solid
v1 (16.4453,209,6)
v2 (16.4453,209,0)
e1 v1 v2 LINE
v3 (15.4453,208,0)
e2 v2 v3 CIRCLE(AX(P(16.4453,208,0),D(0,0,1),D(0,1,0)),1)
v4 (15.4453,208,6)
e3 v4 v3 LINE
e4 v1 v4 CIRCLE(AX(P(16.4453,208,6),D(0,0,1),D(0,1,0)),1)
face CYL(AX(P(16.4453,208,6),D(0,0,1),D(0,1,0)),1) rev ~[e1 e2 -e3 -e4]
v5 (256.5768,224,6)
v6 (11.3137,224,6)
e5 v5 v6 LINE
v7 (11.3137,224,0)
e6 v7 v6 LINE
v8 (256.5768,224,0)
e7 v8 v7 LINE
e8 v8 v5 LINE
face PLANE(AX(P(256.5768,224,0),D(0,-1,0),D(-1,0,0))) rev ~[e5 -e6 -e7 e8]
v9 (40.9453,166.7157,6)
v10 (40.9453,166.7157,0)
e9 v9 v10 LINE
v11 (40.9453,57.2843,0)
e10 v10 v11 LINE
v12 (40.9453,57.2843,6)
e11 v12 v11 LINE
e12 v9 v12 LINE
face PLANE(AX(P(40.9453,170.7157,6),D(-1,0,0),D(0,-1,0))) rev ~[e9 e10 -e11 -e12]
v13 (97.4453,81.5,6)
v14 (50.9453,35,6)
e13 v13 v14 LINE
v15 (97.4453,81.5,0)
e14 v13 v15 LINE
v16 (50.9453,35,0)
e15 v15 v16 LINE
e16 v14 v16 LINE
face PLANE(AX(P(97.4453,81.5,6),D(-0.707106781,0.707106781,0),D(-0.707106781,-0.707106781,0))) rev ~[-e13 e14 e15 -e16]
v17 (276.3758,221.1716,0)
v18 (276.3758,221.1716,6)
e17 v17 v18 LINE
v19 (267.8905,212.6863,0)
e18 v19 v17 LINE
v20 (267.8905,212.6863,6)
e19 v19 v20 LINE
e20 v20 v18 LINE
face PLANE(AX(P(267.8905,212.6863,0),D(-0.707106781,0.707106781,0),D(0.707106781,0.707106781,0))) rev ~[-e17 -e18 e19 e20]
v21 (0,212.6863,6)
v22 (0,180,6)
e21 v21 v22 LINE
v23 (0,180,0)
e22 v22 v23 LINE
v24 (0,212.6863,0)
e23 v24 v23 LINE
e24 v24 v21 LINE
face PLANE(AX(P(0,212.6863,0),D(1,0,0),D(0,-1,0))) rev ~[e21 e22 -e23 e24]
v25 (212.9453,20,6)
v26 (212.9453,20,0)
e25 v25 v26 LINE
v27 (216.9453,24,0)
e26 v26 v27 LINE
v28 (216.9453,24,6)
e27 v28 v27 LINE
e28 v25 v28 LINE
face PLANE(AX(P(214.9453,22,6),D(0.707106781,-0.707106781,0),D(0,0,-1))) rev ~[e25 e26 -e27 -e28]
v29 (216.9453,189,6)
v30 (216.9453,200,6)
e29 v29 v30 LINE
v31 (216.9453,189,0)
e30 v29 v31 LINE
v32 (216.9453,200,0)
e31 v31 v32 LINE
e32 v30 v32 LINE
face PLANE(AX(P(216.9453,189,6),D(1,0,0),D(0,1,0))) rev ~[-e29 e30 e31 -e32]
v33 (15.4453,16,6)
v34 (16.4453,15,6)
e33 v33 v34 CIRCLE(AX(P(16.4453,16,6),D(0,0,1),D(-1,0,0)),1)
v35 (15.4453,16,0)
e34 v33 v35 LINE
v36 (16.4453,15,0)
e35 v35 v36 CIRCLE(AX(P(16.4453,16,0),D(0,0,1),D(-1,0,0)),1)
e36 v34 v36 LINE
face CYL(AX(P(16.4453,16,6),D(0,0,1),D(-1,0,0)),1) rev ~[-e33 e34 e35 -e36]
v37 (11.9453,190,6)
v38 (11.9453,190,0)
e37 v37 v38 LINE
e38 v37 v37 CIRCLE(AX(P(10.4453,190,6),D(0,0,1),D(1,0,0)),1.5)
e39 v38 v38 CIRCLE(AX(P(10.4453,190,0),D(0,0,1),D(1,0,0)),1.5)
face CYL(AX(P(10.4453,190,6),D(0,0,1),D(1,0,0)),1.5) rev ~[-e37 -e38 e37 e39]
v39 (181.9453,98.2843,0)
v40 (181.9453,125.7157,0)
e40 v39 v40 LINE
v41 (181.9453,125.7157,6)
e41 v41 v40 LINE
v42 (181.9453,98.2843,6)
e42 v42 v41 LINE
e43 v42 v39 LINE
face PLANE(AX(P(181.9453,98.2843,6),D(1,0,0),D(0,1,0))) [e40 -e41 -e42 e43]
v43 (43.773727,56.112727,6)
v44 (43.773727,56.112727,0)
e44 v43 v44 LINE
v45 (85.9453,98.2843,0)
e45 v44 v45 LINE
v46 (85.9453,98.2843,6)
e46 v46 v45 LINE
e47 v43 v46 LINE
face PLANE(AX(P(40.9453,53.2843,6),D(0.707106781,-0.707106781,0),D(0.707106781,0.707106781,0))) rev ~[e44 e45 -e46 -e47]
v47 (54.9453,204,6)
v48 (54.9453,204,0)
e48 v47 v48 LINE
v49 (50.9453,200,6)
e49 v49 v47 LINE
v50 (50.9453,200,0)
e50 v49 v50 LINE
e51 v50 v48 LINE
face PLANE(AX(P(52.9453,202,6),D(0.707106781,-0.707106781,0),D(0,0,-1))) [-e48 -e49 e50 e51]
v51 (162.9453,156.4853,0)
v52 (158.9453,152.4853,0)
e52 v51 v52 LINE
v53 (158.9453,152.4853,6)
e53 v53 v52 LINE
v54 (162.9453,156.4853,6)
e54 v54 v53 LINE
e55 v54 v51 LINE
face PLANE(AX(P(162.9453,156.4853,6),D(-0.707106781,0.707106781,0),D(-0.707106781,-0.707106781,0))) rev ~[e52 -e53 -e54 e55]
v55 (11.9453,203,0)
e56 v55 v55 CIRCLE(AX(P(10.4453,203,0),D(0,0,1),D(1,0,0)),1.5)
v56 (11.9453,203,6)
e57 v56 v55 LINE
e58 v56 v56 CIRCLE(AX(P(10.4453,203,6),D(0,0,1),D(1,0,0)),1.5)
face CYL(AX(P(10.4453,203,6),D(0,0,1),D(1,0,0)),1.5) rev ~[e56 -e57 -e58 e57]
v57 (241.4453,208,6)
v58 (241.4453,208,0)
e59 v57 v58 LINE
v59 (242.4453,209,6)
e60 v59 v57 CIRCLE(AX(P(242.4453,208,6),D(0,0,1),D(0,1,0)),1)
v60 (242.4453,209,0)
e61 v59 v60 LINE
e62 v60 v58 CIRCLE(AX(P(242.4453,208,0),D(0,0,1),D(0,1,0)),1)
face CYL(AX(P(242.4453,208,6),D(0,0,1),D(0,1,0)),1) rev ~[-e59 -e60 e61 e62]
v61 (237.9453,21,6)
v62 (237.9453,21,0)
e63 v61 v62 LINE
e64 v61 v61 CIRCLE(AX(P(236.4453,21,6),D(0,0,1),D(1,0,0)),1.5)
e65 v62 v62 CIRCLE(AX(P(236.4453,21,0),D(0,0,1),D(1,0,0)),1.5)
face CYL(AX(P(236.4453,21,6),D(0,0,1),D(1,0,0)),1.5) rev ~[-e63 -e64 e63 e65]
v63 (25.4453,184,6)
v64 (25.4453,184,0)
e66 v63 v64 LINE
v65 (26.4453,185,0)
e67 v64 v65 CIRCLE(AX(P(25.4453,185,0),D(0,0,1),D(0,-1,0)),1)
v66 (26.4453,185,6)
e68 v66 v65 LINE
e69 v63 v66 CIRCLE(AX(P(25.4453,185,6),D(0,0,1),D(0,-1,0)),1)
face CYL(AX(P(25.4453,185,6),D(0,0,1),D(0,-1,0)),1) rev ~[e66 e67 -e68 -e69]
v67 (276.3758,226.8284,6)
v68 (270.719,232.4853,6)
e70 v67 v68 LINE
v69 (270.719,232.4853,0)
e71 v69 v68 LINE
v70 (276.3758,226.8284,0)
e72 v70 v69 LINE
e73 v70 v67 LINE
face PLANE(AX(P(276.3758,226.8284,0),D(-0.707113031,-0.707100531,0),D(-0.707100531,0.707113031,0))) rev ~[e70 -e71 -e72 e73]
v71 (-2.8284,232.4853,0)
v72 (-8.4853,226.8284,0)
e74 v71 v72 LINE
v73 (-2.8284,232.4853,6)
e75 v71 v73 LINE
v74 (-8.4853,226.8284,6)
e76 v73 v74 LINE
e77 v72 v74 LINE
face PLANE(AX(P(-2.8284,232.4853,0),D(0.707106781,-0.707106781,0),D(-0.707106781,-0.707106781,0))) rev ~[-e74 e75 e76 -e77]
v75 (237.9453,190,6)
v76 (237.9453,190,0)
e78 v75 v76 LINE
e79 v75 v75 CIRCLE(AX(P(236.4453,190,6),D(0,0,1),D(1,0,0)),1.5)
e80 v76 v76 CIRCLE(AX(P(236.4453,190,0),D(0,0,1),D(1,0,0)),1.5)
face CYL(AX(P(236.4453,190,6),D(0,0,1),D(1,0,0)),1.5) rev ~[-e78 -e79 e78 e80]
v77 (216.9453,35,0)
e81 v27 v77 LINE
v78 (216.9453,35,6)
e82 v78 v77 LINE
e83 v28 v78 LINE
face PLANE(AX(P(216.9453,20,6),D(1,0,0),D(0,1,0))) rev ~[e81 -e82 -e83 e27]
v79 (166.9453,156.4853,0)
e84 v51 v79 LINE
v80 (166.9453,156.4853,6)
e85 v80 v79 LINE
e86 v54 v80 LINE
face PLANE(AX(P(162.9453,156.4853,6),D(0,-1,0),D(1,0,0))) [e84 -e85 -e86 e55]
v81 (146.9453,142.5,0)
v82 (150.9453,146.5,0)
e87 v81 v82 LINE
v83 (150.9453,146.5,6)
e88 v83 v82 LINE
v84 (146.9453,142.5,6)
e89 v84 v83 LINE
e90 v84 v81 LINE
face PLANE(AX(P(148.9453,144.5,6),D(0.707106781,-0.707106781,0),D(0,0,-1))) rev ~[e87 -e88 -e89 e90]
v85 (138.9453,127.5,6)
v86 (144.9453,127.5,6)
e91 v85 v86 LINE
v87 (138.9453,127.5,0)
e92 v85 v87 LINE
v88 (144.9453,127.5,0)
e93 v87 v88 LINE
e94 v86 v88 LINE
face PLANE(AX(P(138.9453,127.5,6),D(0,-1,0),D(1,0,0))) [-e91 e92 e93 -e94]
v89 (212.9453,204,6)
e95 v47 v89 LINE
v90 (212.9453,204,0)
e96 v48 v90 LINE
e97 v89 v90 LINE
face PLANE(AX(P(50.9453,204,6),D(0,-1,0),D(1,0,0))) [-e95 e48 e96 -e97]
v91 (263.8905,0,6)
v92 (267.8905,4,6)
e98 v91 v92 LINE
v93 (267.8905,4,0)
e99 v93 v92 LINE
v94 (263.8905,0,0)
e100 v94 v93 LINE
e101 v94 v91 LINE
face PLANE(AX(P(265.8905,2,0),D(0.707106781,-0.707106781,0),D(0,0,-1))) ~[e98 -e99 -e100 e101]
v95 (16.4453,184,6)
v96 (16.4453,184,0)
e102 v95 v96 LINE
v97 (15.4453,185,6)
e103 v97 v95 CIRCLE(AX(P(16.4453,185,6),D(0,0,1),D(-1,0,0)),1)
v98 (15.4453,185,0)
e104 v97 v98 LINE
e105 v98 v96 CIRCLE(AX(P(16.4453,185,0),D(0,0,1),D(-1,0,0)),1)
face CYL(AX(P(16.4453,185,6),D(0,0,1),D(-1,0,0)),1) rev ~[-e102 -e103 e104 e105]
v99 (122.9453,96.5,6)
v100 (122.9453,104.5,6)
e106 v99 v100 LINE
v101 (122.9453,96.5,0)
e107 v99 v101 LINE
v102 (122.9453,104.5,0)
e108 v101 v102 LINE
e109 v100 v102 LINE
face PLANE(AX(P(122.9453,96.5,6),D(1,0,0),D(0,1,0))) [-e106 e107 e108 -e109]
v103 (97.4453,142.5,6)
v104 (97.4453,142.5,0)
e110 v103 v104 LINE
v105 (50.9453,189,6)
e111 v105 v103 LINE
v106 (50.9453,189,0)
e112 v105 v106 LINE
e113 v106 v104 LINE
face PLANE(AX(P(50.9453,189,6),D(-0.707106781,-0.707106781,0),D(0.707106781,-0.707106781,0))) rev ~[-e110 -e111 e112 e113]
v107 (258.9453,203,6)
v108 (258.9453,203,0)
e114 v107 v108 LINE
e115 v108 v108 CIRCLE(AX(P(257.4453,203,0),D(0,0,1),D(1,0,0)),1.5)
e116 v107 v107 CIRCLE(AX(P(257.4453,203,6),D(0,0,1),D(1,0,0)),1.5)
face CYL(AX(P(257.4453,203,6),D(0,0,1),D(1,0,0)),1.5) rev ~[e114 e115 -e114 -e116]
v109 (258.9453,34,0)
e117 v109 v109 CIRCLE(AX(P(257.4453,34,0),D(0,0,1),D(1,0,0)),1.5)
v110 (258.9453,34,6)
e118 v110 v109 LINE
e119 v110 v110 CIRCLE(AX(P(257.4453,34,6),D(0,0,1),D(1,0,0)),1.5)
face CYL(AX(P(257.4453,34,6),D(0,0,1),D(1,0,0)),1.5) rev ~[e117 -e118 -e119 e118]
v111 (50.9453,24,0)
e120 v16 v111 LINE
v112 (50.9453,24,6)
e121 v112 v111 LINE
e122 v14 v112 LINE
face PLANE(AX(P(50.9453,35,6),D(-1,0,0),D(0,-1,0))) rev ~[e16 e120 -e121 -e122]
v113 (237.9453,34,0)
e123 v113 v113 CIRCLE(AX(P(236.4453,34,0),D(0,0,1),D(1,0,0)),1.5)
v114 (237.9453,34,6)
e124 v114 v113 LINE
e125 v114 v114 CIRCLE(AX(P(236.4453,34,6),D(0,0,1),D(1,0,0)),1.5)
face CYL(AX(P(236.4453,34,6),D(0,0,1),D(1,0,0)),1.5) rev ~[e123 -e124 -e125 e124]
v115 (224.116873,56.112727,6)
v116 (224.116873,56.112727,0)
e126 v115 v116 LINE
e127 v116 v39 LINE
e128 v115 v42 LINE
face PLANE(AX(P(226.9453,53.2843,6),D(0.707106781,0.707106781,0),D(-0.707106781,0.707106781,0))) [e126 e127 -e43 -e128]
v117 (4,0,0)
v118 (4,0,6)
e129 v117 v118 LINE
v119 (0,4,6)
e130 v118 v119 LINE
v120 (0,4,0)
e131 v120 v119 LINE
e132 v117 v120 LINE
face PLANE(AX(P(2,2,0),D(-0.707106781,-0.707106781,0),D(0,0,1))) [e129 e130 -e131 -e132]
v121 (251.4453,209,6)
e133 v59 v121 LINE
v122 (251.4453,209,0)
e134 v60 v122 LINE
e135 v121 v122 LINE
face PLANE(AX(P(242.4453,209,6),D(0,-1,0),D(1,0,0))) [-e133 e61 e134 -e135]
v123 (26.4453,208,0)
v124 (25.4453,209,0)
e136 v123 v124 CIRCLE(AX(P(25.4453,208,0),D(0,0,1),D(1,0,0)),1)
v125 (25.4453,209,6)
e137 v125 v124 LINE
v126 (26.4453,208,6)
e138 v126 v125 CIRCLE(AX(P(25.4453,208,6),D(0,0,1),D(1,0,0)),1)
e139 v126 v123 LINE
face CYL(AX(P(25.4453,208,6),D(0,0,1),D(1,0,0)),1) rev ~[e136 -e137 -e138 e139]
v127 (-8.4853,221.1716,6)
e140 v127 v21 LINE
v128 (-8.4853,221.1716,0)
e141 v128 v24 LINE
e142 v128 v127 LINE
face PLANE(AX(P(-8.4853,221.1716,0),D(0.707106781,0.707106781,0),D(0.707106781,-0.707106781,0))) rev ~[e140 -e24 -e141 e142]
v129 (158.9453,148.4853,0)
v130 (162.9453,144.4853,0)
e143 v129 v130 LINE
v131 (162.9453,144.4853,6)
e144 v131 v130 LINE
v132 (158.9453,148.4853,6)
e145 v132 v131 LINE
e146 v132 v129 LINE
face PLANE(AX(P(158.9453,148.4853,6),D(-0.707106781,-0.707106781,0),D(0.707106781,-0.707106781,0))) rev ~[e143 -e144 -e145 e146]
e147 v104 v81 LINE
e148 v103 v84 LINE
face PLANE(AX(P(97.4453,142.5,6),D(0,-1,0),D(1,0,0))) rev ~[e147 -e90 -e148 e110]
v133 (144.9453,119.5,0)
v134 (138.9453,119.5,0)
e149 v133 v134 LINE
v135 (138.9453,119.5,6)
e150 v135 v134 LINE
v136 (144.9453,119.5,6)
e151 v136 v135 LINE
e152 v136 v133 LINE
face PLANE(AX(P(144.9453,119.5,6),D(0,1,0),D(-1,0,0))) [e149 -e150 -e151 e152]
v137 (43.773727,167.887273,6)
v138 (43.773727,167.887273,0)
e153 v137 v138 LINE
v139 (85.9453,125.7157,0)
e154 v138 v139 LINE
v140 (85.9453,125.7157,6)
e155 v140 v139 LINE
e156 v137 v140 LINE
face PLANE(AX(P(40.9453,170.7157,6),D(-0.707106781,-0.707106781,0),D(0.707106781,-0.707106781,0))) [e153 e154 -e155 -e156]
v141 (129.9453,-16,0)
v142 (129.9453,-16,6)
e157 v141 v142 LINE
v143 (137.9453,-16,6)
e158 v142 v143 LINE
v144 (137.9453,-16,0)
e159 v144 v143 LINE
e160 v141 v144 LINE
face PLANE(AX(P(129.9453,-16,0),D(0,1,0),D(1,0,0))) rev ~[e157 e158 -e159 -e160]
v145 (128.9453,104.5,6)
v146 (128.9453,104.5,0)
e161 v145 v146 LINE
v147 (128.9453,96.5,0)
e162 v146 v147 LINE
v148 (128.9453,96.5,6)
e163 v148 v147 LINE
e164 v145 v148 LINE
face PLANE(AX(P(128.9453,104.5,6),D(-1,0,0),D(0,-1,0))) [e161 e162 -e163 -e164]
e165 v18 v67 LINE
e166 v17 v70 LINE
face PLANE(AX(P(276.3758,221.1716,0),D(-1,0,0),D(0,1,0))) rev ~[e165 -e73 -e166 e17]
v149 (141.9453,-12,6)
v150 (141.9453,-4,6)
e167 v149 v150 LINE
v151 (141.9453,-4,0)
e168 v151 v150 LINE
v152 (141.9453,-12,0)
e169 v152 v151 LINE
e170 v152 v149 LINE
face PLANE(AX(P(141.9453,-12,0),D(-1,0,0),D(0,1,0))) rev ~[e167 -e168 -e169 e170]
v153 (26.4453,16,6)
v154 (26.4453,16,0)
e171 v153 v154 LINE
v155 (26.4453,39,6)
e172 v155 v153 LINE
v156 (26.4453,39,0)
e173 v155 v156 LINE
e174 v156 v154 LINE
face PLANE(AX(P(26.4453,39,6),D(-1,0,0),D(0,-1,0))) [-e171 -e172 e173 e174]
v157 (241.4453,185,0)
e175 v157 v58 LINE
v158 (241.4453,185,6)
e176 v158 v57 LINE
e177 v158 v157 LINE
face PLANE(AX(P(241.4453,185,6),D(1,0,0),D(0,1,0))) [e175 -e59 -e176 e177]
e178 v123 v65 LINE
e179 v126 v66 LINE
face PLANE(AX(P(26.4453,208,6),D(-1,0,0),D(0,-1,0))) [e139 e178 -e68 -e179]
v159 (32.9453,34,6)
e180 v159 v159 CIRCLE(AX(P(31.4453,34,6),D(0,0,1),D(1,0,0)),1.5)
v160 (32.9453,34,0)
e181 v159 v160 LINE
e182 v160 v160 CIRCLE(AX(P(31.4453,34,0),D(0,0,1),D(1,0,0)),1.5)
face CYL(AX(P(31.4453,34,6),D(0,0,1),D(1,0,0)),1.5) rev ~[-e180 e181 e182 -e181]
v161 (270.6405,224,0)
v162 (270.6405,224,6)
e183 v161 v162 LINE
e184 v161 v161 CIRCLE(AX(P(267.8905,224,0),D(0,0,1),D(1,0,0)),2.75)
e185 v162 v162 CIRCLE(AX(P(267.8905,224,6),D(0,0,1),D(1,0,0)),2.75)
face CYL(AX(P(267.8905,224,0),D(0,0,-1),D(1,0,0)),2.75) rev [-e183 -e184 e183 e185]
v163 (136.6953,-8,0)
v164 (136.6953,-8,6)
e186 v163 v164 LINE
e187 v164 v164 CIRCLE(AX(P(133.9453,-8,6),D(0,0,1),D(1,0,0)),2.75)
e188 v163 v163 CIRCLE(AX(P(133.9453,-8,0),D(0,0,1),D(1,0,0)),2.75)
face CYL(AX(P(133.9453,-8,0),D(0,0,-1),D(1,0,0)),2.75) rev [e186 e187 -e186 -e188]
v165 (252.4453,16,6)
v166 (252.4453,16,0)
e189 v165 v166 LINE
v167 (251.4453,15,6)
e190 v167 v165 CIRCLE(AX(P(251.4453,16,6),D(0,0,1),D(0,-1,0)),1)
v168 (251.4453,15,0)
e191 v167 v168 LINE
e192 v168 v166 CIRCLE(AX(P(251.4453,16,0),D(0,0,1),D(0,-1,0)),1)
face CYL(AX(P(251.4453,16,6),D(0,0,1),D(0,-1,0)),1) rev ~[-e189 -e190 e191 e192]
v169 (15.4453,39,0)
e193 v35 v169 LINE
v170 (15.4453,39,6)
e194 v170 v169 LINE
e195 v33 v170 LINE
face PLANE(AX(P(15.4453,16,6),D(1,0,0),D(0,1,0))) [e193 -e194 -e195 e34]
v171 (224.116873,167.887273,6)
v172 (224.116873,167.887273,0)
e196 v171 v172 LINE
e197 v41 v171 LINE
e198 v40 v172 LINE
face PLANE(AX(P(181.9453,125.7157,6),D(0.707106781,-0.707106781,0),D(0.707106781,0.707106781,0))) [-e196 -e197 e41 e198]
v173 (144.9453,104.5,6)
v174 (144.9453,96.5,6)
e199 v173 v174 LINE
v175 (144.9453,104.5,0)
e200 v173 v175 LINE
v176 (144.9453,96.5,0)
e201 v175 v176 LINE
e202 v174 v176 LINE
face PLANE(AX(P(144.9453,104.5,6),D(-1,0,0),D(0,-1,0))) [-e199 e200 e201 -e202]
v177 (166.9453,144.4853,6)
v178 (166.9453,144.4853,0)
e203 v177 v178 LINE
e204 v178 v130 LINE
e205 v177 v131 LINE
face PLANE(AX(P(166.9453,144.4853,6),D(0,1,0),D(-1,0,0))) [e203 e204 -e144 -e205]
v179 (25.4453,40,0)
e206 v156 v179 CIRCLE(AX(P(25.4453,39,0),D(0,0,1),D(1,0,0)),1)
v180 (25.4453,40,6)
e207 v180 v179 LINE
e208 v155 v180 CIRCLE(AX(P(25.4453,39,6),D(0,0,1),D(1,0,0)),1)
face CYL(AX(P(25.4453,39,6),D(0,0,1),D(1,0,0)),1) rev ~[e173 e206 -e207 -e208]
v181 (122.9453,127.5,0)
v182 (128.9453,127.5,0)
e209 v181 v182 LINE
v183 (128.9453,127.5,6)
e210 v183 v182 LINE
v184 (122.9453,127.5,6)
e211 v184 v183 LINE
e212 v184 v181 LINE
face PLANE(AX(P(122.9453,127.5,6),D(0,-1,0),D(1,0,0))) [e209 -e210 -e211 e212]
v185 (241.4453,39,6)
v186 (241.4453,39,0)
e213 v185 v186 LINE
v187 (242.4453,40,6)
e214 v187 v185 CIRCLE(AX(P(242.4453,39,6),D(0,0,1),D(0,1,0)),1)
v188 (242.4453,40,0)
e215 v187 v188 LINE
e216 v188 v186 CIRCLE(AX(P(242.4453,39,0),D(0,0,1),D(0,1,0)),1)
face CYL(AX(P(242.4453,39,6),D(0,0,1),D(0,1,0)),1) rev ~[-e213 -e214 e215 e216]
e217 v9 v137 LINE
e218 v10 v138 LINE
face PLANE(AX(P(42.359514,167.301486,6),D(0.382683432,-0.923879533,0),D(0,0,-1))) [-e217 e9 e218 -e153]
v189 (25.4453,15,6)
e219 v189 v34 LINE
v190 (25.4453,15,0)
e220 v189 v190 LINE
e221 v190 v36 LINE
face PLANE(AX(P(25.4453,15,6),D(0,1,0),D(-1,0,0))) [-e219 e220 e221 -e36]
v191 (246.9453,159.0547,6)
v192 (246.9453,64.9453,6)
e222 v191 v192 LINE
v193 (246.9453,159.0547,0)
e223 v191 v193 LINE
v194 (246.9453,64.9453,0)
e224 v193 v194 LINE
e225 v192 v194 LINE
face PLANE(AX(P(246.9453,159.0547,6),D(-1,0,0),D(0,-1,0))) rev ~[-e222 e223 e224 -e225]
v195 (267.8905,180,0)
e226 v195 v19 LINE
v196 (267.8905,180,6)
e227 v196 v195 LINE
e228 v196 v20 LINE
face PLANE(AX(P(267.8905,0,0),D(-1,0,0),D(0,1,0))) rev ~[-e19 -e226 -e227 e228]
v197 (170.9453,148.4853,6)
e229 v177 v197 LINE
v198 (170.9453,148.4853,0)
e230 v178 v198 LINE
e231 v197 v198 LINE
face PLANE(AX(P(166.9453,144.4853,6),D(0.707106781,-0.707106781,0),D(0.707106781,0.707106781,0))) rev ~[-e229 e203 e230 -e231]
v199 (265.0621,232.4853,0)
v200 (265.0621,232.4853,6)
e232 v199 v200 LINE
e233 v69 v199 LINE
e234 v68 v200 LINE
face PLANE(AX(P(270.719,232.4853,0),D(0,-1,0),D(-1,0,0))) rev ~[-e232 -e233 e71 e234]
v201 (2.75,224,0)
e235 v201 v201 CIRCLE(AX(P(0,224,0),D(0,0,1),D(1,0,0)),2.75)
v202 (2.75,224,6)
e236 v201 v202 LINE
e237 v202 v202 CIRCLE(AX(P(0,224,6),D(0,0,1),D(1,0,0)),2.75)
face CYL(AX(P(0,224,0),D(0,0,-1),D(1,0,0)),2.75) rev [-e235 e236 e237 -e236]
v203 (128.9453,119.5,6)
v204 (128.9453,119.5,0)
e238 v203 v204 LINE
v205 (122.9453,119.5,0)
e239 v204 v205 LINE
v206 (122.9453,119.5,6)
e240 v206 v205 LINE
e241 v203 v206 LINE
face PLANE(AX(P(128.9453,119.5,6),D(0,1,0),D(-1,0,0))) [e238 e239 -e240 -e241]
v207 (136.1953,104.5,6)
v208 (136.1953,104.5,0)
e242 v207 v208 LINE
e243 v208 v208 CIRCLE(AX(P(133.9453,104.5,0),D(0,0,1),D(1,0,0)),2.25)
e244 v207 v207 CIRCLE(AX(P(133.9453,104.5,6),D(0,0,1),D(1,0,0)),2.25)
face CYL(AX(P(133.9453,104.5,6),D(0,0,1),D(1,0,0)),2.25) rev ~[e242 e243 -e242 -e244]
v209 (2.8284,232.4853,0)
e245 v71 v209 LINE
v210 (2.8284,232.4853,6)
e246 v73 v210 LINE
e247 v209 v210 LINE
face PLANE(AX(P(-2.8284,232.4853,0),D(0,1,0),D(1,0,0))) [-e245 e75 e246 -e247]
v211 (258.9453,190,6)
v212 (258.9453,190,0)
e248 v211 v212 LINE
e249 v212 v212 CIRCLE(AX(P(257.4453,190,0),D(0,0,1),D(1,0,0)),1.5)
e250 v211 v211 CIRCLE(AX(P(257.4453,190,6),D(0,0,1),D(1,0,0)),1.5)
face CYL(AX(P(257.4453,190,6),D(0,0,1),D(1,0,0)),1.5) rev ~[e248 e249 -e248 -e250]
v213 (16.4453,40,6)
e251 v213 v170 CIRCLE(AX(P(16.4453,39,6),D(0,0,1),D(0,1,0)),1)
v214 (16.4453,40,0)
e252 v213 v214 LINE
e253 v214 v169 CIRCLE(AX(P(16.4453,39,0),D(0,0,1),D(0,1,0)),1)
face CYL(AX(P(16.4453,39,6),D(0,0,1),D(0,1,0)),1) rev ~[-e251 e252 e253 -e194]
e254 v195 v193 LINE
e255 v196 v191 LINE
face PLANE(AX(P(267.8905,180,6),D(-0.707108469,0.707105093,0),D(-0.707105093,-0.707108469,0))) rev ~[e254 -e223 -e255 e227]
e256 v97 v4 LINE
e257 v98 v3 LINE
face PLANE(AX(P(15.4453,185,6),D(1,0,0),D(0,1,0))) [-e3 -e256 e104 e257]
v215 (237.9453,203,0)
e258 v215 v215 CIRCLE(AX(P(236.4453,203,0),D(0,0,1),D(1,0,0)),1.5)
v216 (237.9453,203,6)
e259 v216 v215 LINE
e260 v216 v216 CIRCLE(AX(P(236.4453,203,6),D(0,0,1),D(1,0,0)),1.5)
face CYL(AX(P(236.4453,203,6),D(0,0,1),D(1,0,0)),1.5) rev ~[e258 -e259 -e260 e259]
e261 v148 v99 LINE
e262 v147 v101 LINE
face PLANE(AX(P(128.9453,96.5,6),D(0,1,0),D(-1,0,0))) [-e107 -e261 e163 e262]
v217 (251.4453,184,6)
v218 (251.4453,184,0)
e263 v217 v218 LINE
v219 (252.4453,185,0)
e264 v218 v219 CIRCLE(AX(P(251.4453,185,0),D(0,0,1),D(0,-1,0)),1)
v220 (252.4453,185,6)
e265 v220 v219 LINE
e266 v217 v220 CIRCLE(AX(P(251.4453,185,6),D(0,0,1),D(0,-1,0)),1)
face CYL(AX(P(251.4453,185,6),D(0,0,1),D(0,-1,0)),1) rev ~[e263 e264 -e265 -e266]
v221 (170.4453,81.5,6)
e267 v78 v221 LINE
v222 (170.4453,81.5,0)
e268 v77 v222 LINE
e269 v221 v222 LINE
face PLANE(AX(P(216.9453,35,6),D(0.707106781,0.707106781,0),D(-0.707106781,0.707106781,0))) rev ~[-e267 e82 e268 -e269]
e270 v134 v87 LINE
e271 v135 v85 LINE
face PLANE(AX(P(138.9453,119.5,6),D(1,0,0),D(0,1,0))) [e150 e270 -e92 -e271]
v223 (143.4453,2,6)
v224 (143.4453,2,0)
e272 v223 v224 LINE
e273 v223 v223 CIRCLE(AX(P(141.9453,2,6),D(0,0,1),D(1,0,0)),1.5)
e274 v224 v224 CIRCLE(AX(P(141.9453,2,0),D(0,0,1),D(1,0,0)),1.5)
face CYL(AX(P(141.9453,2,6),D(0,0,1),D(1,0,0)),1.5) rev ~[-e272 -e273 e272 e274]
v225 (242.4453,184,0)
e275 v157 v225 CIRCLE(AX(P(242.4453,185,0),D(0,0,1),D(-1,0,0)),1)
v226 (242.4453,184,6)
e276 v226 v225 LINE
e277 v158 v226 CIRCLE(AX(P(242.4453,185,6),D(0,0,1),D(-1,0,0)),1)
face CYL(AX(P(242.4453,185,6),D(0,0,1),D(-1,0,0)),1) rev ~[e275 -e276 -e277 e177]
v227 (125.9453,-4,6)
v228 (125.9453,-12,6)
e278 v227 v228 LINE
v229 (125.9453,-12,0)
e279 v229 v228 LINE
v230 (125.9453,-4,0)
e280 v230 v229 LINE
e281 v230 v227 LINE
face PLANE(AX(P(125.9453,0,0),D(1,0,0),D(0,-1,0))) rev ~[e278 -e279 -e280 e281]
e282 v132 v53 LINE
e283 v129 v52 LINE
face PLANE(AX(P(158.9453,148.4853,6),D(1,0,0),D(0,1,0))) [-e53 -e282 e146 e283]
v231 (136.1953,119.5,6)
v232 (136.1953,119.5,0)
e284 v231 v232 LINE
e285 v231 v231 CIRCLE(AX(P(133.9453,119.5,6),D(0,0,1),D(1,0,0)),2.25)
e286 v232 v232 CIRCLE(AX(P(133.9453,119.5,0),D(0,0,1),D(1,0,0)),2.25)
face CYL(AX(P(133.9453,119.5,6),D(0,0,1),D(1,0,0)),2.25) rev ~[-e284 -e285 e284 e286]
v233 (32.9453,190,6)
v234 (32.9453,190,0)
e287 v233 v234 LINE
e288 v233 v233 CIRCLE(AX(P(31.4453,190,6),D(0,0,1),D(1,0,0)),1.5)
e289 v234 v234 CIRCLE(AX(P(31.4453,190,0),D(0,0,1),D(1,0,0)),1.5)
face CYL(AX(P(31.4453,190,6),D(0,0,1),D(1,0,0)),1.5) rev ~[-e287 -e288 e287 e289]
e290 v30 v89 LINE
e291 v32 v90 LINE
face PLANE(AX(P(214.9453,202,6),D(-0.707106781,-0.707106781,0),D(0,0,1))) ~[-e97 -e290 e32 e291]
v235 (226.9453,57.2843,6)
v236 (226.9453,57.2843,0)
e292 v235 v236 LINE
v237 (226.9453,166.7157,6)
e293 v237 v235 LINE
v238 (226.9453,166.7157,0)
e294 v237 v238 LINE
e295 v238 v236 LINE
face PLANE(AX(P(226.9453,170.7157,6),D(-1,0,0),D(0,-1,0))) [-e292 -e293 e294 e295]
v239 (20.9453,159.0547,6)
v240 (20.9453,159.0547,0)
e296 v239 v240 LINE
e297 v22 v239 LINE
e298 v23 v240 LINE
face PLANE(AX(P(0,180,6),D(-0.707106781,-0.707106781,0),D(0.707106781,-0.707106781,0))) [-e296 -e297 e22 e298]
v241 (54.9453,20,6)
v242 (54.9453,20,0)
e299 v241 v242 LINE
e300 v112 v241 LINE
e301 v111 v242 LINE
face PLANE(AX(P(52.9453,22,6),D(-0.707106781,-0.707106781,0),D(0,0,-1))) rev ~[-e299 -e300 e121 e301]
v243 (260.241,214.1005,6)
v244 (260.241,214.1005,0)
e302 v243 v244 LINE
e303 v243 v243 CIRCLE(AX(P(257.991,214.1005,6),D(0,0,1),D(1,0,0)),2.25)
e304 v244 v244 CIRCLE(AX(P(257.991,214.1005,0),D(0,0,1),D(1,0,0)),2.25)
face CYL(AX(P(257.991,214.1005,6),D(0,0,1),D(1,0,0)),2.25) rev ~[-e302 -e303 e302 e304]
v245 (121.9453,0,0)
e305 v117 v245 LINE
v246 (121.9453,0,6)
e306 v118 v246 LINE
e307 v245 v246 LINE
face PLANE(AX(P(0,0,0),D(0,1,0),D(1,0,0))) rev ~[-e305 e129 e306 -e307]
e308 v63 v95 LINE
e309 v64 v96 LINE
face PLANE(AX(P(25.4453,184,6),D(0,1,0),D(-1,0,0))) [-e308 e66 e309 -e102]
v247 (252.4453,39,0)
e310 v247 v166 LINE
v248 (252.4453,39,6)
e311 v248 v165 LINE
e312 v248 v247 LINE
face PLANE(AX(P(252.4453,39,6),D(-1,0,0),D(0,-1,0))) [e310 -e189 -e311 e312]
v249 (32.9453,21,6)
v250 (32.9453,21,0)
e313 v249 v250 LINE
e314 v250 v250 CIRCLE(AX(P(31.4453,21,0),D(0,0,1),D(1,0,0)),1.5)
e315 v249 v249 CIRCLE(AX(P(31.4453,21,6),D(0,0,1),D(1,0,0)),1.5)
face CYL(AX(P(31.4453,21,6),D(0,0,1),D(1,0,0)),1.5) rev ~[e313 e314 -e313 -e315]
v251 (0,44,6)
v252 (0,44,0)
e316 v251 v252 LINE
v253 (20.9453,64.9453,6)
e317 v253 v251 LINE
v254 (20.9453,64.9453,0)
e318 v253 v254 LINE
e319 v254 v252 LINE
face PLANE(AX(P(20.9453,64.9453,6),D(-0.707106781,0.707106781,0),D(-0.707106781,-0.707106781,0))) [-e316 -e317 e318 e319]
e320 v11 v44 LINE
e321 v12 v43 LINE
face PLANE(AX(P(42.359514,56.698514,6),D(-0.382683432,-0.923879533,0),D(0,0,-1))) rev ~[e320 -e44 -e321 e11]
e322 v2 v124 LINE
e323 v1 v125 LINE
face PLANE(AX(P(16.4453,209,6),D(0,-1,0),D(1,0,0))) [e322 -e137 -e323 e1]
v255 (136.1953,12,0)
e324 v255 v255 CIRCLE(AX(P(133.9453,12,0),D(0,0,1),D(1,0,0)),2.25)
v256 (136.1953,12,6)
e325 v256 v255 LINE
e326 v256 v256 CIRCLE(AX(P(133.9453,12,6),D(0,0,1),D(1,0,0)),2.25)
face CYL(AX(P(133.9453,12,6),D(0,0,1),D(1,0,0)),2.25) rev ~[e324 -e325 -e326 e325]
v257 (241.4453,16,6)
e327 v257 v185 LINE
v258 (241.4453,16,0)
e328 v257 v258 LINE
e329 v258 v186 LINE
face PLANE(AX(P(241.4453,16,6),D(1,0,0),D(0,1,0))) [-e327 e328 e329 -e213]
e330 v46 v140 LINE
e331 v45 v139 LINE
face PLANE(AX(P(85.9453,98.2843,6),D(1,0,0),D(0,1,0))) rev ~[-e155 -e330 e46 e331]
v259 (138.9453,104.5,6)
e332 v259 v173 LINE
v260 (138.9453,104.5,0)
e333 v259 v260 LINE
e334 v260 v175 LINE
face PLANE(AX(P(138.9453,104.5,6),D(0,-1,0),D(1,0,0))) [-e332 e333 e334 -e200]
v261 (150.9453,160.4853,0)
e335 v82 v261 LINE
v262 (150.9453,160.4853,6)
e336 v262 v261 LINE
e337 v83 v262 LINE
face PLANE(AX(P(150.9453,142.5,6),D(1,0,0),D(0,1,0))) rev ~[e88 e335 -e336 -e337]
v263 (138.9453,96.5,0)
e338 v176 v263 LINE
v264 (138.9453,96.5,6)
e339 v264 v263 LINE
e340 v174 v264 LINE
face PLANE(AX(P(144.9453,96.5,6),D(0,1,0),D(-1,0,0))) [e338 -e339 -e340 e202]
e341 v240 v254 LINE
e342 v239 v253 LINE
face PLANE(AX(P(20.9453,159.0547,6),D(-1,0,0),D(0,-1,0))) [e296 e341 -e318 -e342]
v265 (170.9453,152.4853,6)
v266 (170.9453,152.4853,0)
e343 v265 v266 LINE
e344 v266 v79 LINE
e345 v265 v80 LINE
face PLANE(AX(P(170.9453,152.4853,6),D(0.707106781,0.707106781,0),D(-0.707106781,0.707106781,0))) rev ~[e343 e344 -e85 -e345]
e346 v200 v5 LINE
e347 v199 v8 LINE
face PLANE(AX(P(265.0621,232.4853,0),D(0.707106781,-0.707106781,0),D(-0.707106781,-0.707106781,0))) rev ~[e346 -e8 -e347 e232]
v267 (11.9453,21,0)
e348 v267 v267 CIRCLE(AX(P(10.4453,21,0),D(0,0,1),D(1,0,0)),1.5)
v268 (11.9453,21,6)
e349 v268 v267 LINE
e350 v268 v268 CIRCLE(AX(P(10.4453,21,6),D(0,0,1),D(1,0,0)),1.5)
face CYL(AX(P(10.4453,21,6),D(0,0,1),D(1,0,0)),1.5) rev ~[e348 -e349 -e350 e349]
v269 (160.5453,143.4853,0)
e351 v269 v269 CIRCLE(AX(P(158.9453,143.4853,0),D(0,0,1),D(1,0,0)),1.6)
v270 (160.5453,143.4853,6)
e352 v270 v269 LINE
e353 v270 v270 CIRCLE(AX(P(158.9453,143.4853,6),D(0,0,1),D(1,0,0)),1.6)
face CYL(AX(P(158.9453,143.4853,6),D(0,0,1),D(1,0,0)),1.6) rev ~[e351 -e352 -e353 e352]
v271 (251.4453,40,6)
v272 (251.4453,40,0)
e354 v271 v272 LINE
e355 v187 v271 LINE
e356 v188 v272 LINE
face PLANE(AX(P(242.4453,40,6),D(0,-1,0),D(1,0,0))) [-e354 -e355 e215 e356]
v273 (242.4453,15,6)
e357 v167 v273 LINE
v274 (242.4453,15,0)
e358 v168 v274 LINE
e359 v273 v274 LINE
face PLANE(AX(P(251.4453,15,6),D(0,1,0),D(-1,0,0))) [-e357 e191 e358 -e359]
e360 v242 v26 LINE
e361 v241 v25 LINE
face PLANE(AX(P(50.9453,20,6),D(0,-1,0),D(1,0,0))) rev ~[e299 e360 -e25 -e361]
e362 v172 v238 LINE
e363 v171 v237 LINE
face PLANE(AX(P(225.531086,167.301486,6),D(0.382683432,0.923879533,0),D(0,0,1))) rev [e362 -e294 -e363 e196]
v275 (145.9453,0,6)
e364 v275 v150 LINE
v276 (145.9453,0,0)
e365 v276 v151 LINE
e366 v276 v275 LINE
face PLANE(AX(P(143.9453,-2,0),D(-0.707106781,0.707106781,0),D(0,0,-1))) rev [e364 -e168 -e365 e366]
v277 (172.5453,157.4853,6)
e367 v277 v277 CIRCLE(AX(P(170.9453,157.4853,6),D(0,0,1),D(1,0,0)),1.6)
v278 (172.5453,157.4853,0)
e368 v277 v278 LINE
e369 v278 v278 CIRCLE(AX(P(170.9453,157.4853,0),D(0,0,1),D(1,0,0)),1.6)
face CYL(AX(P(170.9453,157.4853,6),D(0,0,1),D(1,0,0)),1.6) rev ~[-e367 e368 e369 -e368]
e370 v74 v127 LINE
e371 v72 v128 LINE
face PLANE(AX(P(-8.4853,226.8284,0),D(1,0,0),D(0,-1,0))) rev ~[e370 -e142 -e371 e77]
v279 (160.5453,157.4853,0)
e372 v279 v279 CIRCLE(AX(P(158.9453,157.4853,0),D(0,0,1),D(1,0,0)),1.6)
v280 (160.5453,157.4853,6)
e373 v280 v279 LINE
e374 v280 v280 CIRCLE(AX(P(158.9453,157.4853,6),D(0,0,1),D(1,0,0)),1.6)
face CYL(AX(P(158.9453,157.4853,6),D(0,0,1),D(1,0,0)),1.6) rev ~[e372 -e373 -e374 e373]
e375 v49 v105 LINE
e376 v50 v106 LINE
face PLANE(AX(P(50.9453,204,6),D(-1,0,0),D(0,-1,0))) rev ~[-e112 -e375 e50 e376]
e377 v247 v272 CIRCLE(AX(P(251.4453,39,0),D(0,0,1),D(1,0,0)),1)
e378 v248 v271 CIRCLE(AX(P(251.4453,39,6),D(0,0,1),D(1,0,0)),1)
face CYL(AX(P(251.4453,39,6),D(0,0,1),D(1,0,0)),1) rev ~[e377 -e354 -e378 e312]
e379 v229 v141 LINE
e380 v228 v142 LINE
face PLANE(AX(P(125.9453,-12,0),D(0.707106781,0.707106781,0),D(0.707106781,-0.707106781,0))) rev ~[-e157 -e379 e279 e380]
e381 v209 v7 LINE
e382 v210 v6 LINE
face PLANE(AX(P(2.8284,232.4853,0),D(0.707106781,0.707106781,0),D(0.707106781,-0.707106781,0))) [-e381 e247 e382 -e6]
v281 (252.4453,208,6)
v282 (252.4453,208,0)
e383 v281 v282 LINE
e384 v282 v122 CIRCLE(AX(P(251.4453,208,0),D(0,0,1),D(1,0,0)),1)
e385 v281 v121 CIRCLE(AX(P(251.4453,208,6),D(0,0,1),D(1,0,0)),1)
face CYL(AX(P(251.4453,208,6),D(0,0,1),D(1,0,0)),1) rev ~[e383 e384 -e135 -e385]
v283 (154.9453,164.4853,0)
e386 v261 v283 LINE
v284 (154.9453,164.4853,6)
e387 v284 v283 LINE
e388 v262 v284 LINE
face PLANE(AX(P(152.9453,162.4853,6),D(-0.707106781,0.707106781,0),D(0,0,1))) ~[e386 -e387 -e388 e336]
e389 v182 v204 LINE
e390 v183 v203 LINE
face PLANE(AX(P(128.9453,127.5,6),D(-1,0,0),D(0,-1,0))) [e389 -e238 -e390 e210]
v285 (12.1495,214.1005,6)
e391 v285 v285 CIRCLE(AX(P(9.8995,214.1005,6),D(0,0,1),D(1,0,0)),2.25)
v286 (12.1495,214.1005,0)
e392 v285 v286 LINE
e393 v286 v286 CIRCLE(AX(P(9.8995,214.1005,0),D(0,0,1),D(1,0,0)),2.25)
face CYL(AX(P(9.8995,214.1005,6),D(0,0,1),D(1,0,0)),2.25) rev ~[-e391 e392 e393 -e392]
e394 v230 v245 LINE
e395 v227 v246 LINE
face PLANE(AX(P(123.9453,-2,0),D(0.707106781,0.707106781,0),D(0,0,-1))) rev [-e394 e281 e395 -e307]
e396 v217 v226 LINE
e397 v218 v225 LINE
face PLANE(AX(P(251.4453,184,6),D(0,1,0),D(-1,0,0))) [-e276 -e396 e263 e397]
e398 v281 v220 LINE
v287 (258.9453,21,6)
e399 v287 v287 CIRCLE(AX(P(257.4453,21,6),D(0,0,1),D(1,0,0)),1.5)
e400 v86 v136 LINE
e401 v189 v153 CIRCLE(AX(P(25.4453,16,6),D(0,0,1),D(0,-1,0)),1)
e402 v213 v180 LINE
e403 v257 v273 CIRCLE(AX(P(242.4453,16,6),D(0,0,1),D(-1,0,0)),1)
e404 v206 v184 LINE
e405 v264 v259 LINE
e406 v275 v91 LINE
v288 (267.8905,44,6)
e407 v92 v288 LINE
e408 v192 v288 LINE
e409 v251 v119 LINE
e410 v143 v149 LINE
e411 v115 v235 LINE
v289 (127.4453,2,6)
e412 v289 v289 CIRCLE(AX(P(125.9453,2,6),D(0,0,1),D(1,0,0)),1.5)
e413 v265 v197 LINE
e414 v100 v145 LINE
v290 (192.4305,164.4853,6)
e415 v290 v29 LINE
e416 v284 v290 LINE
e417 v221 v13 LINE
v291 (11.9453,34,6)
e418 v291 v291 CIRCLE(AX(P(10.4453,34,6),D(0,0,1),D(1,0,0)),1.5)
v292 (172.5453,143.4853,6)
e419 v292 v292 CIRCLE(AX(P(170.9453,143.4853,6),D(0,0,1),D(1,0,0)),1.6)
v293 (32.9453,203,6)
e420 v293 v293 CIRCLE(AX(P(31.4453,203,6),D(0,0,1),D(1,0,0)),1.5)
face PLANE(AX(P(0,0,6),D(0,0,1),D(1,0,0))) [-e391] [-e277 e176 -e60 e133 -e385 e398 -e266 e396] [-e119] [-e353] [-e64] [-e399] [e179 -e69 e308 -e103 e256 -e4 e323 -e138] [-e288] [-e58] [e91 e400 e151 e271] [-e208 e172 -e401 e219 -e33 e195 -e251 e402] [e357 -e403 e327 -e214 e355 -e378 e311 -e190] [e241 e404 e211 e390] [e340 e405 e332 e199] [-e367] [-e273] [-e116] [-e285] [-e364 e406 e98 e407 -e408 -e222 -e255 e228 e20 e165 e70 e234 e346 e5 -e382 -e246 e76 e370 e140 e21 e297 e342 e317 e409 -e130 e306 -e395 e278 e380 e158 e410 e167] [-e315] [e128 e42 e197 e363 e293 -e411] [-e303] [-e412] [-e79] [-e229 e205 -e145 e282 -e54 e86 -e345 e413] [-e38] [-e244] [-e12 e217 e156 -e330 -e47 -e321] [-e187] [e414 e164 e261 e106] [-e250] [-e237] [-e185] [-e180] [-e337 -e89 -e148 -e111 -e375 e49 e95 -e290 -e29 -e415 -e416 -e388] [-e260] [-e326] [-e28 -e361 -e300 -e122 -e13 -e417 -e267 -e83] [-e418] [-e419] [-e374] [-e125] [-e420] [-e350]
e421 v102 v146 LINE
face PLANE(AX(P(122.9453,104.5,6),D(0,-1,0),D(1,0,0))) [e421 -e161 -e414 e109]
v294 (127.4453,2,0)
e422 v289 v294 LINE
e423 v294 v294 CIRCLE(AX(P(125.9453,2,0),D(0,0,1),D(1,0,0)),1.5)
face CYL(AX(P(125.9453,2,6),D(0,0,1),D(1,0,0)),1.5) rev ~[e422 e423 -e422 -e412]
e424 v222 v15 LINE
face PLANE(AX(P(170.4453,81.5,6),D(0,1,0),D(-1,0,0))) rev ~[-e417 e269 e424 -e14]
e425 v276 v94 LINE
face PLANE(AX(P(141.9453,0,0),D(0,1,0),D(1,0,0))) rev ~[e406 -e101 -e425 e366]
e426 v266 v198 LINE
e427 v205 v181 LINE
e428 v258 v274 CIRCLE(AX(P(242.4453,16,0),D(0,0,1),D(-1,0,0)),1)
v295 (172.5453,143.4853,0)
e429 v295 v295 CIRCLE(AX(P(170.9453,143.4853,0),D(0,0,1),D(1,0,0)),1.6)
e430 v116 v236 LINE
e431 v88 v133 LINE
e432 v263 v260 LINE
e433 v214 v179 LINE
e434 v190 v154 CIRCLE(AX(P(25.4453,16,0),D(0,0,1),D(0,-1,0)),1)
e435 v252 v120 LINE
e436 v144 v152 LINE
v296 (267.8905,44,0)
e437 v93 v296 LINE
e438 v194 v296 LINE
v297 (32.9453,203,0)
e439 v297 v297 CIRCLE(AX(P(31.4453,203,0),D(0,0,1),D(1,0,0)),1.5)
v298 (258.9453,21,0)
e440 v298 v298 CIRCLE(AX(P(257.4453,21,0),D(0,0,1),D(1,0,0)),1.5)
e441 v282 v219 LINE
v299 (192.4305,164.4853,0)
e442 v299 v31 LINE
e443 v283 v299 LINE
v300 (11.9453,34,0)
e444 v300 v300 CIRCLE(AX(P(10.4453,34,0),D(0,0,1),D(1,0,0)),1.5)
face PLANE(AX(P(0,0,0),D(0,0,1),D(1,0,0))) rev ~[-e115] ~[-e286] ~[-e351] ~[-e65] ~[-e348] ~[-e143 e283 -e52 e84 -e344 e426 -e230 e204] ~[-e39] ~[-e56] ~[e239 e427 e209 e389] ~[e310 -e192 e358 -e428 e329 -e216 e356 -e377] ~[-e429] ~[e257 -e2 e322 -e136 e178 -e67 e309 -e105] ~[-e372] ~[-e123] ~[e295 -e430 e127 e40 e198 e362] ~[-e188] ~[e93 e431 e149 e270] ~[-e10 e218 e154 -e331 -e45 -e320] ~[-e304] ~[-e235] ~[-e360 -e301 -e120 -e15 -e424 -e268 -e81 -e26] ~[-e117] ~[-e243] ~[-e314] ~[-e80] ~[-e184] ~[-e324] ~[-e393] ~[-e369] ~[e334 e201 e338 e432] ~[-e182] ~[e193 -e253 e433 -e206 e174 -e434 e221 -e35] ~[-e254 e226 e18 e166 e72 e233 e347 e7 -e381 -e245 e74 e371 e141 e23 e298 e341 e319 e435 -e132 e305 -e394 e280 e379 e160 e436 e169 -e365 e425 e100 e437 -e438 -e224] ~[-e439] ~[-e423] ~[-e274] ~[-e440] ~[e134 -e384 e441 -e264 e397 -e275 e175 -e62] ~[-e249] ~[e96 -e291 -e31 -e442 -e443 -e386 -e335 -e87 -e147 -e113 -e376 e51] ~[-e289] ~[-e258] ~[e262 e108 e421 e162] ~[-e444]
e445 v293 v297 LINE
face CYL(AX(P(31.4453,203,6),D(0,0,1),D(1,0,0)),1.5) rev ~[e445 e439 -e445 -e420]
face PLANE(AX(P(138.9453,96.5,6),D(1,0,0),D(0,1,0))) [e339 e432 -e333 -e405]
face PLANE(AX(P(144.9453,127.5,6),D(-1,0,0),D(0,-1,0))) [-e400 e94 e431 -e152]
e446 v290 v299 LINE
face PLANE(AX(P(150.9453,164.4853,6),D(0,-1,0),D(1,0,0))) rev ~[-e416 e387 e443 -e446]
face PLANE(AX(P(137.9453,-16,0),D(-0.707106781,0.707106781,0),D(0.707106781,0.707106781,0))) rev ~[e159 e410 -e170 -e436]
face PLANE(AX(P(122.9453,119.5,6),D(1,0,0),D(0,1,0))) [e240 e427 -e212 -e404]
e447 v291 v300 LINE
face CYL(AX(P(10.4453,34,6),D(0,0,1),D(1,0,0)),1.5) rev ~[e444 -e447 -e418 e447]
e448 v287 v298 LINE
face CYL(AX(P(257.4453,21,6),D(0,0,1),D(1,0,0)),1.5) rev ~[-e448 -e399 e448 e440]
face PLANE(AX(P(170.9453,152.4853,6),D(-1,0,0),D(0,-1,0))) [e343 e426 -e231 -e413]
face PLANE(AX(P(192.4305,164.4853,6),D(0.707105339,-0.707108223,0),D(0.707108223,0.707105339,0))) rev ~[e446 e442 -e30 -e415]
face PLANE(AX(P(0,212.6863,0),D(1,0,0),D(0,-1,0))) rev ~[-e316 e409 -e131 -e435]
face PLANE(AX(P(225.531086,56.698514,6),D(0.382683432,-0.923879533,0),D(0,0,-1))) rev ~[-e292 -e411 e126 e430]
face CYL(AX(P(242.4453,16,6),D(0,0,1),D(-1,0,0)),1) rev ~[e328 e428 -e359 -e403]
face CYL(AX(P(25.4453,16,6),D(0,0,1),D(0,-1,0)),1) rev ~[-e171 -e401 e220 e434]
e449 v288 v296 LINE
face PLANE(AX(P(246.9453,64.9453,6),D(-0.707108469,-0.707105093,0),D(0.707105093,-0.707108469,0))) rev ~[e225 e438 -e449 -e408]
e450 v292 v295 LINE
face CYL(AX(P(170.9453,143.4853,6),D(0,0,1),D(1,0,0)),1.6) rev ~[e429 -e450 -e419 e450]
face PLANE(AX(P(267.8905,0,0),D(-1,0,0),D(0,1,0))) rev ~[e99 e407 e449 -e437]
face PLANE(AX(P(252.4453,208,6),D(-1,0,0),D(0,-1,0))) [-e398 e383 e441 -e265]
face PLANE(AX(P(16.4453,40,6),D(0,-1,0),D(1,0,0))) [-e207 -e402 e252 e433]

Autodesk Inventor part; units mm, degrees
ref_plane "YZ Plane" through (0, 0, 0) normal (1, 0, 0) x (0, 1, 0)
ref_plane "XZ Plane" through (0, 0, 0) normal (0, 1, 0) x (-1, 0, 0)
ref_plane "XY Plane" through (0, 0, 0) normal (0, 0, 1) x (1, 0, 0)
sketch "Sketch1" plane through (0, 0, 0) normal (0, 0, 1) x (1, 0, 0)
  line L0 (267.8905, 0) -> (267.8905, 212.6863)
  line L1 (256.5768, 224) -> (11.3137, 224)
  line L2 (0, 212.6863) -> (0, 0)
  line L3 (0, 224) -> (267.8905, 224) construction
  line L4 (267.8905, 224) -> (133.9453, -8) construction
  line L5 (133.9453, -8) -> (0, 224) construction
  circle A0 centre (0, 224) radius 2.75
  circle A1 centre (133.9453, -8) radius 2.75
  circle A2 centre (267.8905, 224) radius 2.75
  circle A3 centre (0, 224) radius 5 construction
  circle A4 centre (267.8905, 224) radius 5 construction
  circle A5 centre (133.9453, -8) radius 5 construction
  line L6 (-2.8284, 232.4853) -> (-8.4853, 226.8284)
  line L7 (-8.4853, 226.8284) -> (-8.4853, 221.1716)
  line L8 (-2.8284, 232.4853) -> (2.8284, 232.4853)
  line L9 (2.8284, 232.4853) -> (11.3137, 224)
  line L10 (-8.4853, 221.1716) -> (0, 212.6863)
  line L11 (125.9453, 0) -> (125.9453, -12)
  line L12 (125.9453, -12) -> (129.9453, -16)
  line L13 (129.9453, -16) -> (137.9453, -16)
  line L14 (137.9453, -16) -> (141.9453, -12)
  line L15 (141.9453, -12) -> (141.9453, 0)
  line L16 (267.8905, 212.6863) -> (276.3758, 221.1716)
  line L17 (276.3758, 221.1716) -> (276.3758, 226.8284)
  line L18 (276.3758, 226.8284) -> (270.719, 232.4853)
  line L19 (270.719, 232.4853) -> (265.0621, 232.4853)
  line L20 (265.0621, 232.4853) -> (256.5768, 224)
  line L21 (0, 0) -> (125.9453, 0)
  line L22 (141.9453, 0) -> (267.8905, 0)
  dimension "d0" = 5.5
  dimension "d1" = 5.5
  dimension "d2" = 5.5
  dimension "d3" = 10
  dimension "d4" = 10
  dimension "d5" = 10
  dimension "d6" = 232
  dimension "d7" = 45
  dimension "d8" = 8
  dimension "d9" = 4
  dimension "d10" = 8
  dimension "d11" = 8
  dimension "d12" = 4
  dimension "d13" = 45
  dimension "d15" = 12
  dimension "d17" = 45
  dimension "d18" = 8
  dimension "d19" = 4
  dimension "d20" = 8
  dimension "d45" = 45
  dimension "d46" = 8
  dimension "d47" = 45
  dimension "d48" = 8
  dimension "d49" = 8
  dimension "d50" = 8
extrude "Extrusion2" add sketch "Sketch1" along normal blind 6
sketch "Sketch3" plane through (0, 0, 6) normal (0, 0, 1) x (1, 0, 0)
  line L0 (0, 212.6863) -> (0, 0)
  line L1 (0, 0) -> (125.9453, 0)
  line L2 (267.8905, 0) -> (267.8905, 212.6863)
  line L3 (256.5768, 224) -> (11.3137, 224)
  line L4 (16.4453, 209) -> (25.4453, 209)
  line L5 (26.4453, 208) -> (26.4453, 185)
  line L6 (25.4453, 184) -> (16.4453, 184)
  line L7 (15.4453, 185) -> (15.4453, 208)
  arc A0 (16.4453, 209) -> (15.4453, 208) centre (16.4453, 208) ccw
  arc A1 (15.4453, 185) -> (16.4453, 184) centre (16.4453, 185) ccw
  arc A2 (25.4453, 184) -> (26.4453, 185) centre (25.4453, 185) ccw
  arc A3 (26.4453, 208) -> (25.4453, 209) centre (25.4453, 208) ccw
  line L8 (242.4453, 209) -> (251.4453, 209)
  line L9 (252.4453, 208) -> (252.4453, 185)
  line L10 (251.4453, 184) -> (242.4453, 184)
  line L11 (241.4453, 185) -> (241.4453, 208)
  arc A4 (242.4453, 209) -> (241.4453, 208) centre (242.4453, 208) ccw
  arc A5 (241.4453, 185) -> (242.4453, 184) centre (242.4453, 185) ccw
  arc A6 (251.4453, 184) -> (252.4453, 185) centre (251.4453, 185) ccw
  arc A7 (252.4453, 208) -> (251.4453, 209) centre (251.4453, 208) ccw
  line L12 (242.4453, 40) -> (251.4453, 40)
  line L13 (252.4453, 39) -> (252.4453, 16)
  line L14 (251.4453, 15) -> (242.4453, 15)
  line L15 (241.4453, 16) -> (241.4453, 39)
  arc A8 (242.4453, 40) -> (241.4453, 39) centre (242.4453, 39) ccw
  arc A9 (241.4453, 16) -> (242.4453, 15) centre (242.4453, 16) ccw
  arc A10 (251.4453, 15) -> (252.4453, 16) centre (251.4453, 16) ccw
  arc A11 (252.4453, 39) -> (251.4453, 40) centre (251.4453, 39) ccw
  line L16 (16.4453, 40) -> (25.4453, 40)
  line L17 (26.4453, 39) -> (26.4453, 16)
  line L18 (25.4453, 15) -> (16.4453, 15)
  line L19 (15.4453, 16) -> (15.4453, 39)
  arc A12 (16.4453, 40) -> (15.4453, 39) centre (16.4453, 39) ccw
  arc A13 (15.4453, 16) -> (16.4453, 15) centre (16.4453, 16) ccw
  arc A14 (25.4453, 15) -> (26.4453, 16) centre (25.4453, 16) ccw
  arc A15 (26.4453, 39) -> (25.4453, 40) centre (25.4453, 39) ccw
  line L20 (0, 180) -> (20.9453, 159.0547)
  line L21 (20.9453, 159.0547) -> (20.9453, 64.9453)
  line L22 (20.9453, 64.9453) -> (0, 44)
  line L23 (267.8905, 180) -> (246.9453, 159.0547)
  line L24 (246.9453, 159.0547) -> (246.9453, 64.9453)
  line L25 (246.9453, 64.9453) -> (267.8905, 44)
  line L26 (0, 180) -> (0, 44)
  line L27 (267.8905, 180) -> (267.8905, 44)
  line L28 (-8.4853, 226.8284) -> (-8.4853, 221.1716)
  line L29 (26.4453, 196.5) -> (241.4453, 196.5) construction
  point P0 (20.9453, 184)
  point P1 (20.9453, 40)
  point P2 (246.9453, 184)
  point P3 (246.9453, 40)
  point P4 (26.4453, 27.5)
  point P5 (241.4453, 27.5)
  point P6 (133.9453, 196.5)
  point P7 (133.9453, 224)
  dimension "d66" = 1
  dimension "d67" = 11
  dimension "d68" = 25
  dimension "d69" = 1
  dimension "d70" = 11
  dimension "d71" = 25
  dimension "d72" = 1
  dimension "d73" = 11
  dimension "d74" = 25
  dimension "d75" = 1
  dimension "d76" = 11
  dimension "d77" = 25
  dimension "d82" = 15
  dimension "d84" = 45
  dimension "d85" = 45
  dimension "d86" = 15
  dimension "d88" = 4
  dimension "d89" = 4
  dimension "d139" = 226
extrude "Extrusion3" cut sketch "Sketch3" against normal blind 6
chamfer "Chamfer1" distance 4 angle 45 4 edges at (0, 0, 3) (125.9453, 0, 3) (141.9453, 0, 3) (267.8905, 0, 3)
sketch "Sketch6" plane through (0, 0, 6) normal (0, 0, 1) x (1, 0, 0)
  line L0 (276.3758, 226.8284) -> (270.719, 232.4853)
  line L1 (-2.8284, 232.4853) -> (-8.4853, 226.8284)
  line L2 (16.4453, 40) -> (25.4453, 40)
  circle A0 centre (267.8905, 224) radius 2.75
  circle A1 centre (133.9453, -8) radius 2.75
  circle A2 centre (0, 224) radius 2.75
  circle A3 centre (9.8995, 214.1005) radius 2.25
  line L3 (-5.6569, 229.6569) -> (9.8995, 214.1005) construction
  circle A4 centre (9.8995, 214.1005) radius 4.5 construction
  circle A5 centre (0, 224) radius 5 construction
  line L4 (11.3137, 224) -> (0, 212.6863) construction
  circle A6 centre (257.991, 214.1005) radius 2.25
  line L5 (273.5474, 229.6569) -> (257.991, 214.1005) construction
  circle A7 centre (133.9453, 12) radius 2.25
  circle A8 centre (125.9453, 2) radius 1.5
  circle A9 centre (141.9453, 2) radius 1.5
  line L6 (133.9453, -8) -> (133.9453, 12) construction
  circle A10 centre (133.9453, 12) radius 4.5 construction
  point P0 (125.9453, -4)
  point P1 (141.9453, -4)
  point P2 (0, 0)
  dimension "d103" = 4.5
  dimension "d105" = 14
  dimension "d106" = 10
  dimension "d107" = 9
  dimension "d108" = 4.5
  dimension "d109" = 14
  dimension "d110" = 4.5
  dimension "d111" = 20
  dimension "d112" = 3
  dimension "d113" = 9
  dimension "d114" = 10
extrude "Extrusion4" cut sketch "Sketch6" against normal through all contours A3 | A6 | A7 | A8 | A9
sketch "Sketch7" plane through (0, 0, 6) normal (0, 0, 1) x (1, 0, 0)
  line L0 (4, 0) -> (121.9453, 0)
  circle A0 centre (133.9453, -8) radius 2.75
  line L1 (122.9453, 127.5) -> (128.9453, 127.5)
  line L2 (128.9453, 127.5) -> (128.9453, 119.5)
  line L3 (128.9453, 119.5) -> (122.9453, 119.5)
  line L4 (122.9453, 119.5) -> (122.9453, 127.5)
  line L5 (138.9453, 127.5) -> (144.9453, 127.5)
  line L6 (144.9453, 127.5) -> (144.9453, 119.5)
  line L7 (144.9453, 119.5) -> (138.9453, 119.5)
  line L8 (138.9453, 119.5) -> (138.9453, 127.5)
  line L9 (122.9453, 104.5) -> (128.9453, 104.5)
  line L10 (128.9453, 104.5) -> (128.9453, 96.5)
  line L11 (128.9453, 96.5) -> (122.9453, 96.5)
  line L12 (122.9453, 96.5) -> (122.9453, 104.5)
  line L13 (138.9453, 104.5) -> (144.9453, 104.5)
  line L14 (144.9453, 104.5) -> (144.9453, 96.5)
  line L15 (144.9453, 96.5) -> (138.9453, 96.5)
  line L16 (138.9453, 96.5) -> (138.9453, 104.5)
  line L17 (128.9453, 119.5) -> (138.9453, 104.5) construction
  line L18 (128.9453, 104.5) -> (138.9453, 119.5) construction
  circle A1 centre (133.9453, 119.5) radius 2.25
  circle A2 centre (133.9453, 104.5) radius 2.25
  line L19 (133.9453, 119.5) -> (133.9453, 104.5) construction
  point P0 (0, 0)
  point P1 (133.9453, 112)
  dimension "d117" = 6
  dimension "d118" = 8
  dimension "d119" = 8
  dimension "d120" = 6
  dimension "d121" = 112
  dimension "d122" = 10
  dimension "d123" = 15
  dimension "d124" = 4.5
  dimension "d125" = 15
extrude "Extrusion5" cut sketch "Sketch7" against normal through all contours L1 L2 L3 L4 | L5 L6 L7 L8 | L9 L10 L11 L12 | L13 L14 L15 L16 | A1 | A2
sketch "Sketch8" plane through (0, 0, 6) normal (0, 0, 1) x (1, 0, 0)
  line L0 (15.4453, 185) -> (15.4453, 208)
  line L1 (16.4453, 209) -> (25.4453, 209)
  line L2 (26.4453, 208) -> (26.4453, 185)
  line L3 (25.4453, 184) -> (16.4453, 184)
  line L4 (252.4453, 208) -> (252.4453, 185)
  line L5 (241.4453, 185) -> (241.4453, 208)
  line L6 (25.4453, 15) -> (16.4453, 15)
  line L7 (16.4453, 40) -> (25.4453, 40)
  circle A0 centre (10.4453, 203) radius 1.5
  circle A1 centre (31.4453, 203) radius 1.5
  circle A2 centre (10.4453, 190) radius 1.5
  circle A3 centre (31.4453, 190) radius 1.5
  circle A4 centre (236.4453, 203) radius 1.5
  circle A5 centre (257.4453, 203) radius 1.5
  circle A6 centre (257.4453, 190) radius 1.5
  circle A7 centre (236.4453, 190) radius 1.5
  circle A8 centre (10.4453, 34) radius 1.5
  circle A9 centre (31.4453, 34) radius 1.5
  circle A10 centre (10.4453, 21) radius 1.5
  circle A11 centre (31.4453, 21) radius 1.5
  circle A12 centre (236.4453, 34) radius 1.5
  circle A13 centre (236.4453, 21) radius 1.5
  circle A14 centre (257.4453, 34) radius 1.5
  circle A15 centre (257.4453, 21) radius 1.5
  point P0 (0, 0)
  dimension "d128" = 3
  dimension "d129" = 6
  dimension "d130" = 6
  dimension "d131" = 5
  dimension "d132" = 5
  dimension "d133" = 6
  dimension "d134" = 6
  dimension "d135" = 5
  dimension "d136" = 5
extrude "Extrusion6" cut sketch "Sketch8" against normal through all
sketch "Sketch9" plane through (0, 0, 6) normal (0, 0, 1) x (1, 0, 0)
  line L0 (158.9453, 157.4853) -> (170.9453, 157.4853) construction
  line L1 (170.9453, 157.4853) -> (170.9453, 143.4853) construction
  line L2 (170.9453, 143.4853) -> (158.9453, 143.4853) construction
  line L3 (158.9453, 143.4853) -> (158.9453, 157.4853) construction
  circle A0 centre (158.9453, 143.4853) radius 1.6
  circle A1 centre (170.9453, 143.4853) radius 1.6
  circle A2 centre (170.9453, 157.4853) radius 1.6
  circle A3 centre (158.9453, 157.4853) radius 1.6
  line L4 (162.9453, 156.4853) -> (166.9453, 156.4853)
  line L5 (170.9453, 152.4853) -> (170.9453, 148.4853)
  line L6 (166.9453, 144.4853) -> (162.9453, 144.4853)
  line L7 (158.9453, 148.4853) -> (158.9453, 152.4853)
  line L8 (158.9453, 148.4853) -> (162.9453, 144.4853)
  line L9 (166.9453, 144.4853) -> (170.9453, 148.4853)
  line L10 (170.9453, 152.4853) -> (166.9453, 156.4853)
  line L11 (162.9453, 156.4853) -> (158.9453, 152.4853)
  line L12 (158.9453, 172.4853) -> (170.9453, 172.4853) construction
  line L13 (170.9453, 172.4853) -> (170.9453, 156.4853) construction
  line L14 (170.9453, 156.4853) -> (158.9453, 156.4853) construction
  line L15 (158.9453, 156.4853) -> (158.9453, 172.4853) construction
  line L16 (144.9453, 127.5) -> (144.9453, 119.5)
  line L17 (2.8284, 232.4853) -> (-2.8284, 232.4853)
  point P0 (0, 0)
  point P1 (164.9453, 156.4853)
  point P2 (164.9453, 157.4853)
  dimension "d140" = 3.2
  dimension "d141" = 14
  dimension "d142" = 12
  dimension "d143" = 45
  dimension "d144" = 4
  dimension "d145" = 1
  dimension "d146" = 4
  dimension "d148" = 16
  dimension "d152" = 60
  dimension "d153" = 14
extrude "Extrusion7" cut sketch "Sketch9" against normal through all
sketch "Sketch10" plane through (0, 0, 6) normal (0, 0, 1) x (1, 0, 0)
  line L0 (158.9453, 148.4853) -> (158.9453, 152.4853)
  line L1 (158.9453, 152.4853) -> (162.9453, 156.4853)
  line L2 (162.9453, 156.4853) -> (166.9453, 156.4853)
  line L3 (122.9453, 127.5) -> (128.9453, 127.5)
  line L4 (144.9453, 96.5) -> (138.9453, 96.5)
  line L5 (246.9453, 64.9453) -> (246.9453, 159.0547)
  line L6 (256.5768, 224) -> (11.3137, 224)
  line L7 (20.9453, 159.0547) -> (20.9453, 64.9453)
  line L8 (145.9453, 0) -> (141.9453, -4)
  line L9 (145.9453, 0) -> (263.8905, 0)
  line L10 (16.4453, 40) -> (25.4453, 40)
  line L11 (50.9453, 20) -> (216.9453, 20)
  line L12 (216.9453, 20) -> (216.9453, 35)
  line L13 (216.9453, 35) -> (170.4453, 81.5)
  line L14 (170.4453, 81.5) -> (97.4453, 81.5)
  line L15 (97.4453, 81.5) -> (50.9453, 35)
  line L16 (50.9453, 35) -> (50.9453, 20)
  line L17 (50.9453, 204) -> (216.9453, 204)
  line L18 (50.9453, 204) -> (50.9453, 189)
  line L19 (50.9453, 189) -> (97.4453, 142.5)
  line L20 (97.4453, 142.5) -> (150.9453, 142.5)
  line L21 (150.9453, 142.5) -> (150.9453, 164.4853)
  line L22 (150.9453, 164.4853) -> (192.4305, 164.4853)
  line L23 (192.4305, 164.4853) -> (216.9453, 189)
  line L24 (216.9453, 189) -> (216.9453, 204)
  line L25 (40.9453, 170.7157) -> (40.9453, 53.2843)
  line L26 (40.9453, 53.2843) -> (85.9453, 98.2843)
  line L27 (85.9453, 98.2843) -> (85.9453, 125.7157)
  line L28 (40.9453, 170.7157) -> (85.9453, 125.7157)
  line L29 (226.9453, 170.7157) -> (226.9453, 53.2843)
  line L30 (226.9453, 53.2843) -> (181.9453, 98.2843)
  line L31 (181.9453, 98.2843) -> (181.9453, 125.7157)
  line L32 (181.9453, 125.7157) -> (226.9453, 170.7157)
  point P0 (0, 0)
  dimension "d154" = 20
  dimension "d155" = 15
  dimension "d156" = 30
  dimension "d157" = 30
  dimension "d158" = 15
  dimension "d160" = 20
  dimension "d161" = 15
  dimension "d162" = 15
  dimension "d163" = 8
  dimension "d164" = 8
  dimension "d165" = 20
  dimension "d166" = 20
  dimension "d167" = 20
  dimension "d168" = 20
  dimension "d169" = 20
  dimension "d170" = 20
  dimension "d171" = 45
  dimension "d172" = 45
extrude "Extrusion8" cut sketch "Sketch10" against normal through all
chamfer "Chamfer2" distance 4 angle 45 10 edges at (50.9453, 20, 3) (216.9453, 20, 3) (150.9453, 164.4853, 3) (150.9453, 142.5, 3) (216.9453, 204, 3) (50.9453, 204, 3) (40.9453, 53.2843, 3) (40.9453, 170.7157, 3) (226.9453, 170.7157, 3) (226.9453, 53.2843, 3)
properties part number "y_carriage_v2"
